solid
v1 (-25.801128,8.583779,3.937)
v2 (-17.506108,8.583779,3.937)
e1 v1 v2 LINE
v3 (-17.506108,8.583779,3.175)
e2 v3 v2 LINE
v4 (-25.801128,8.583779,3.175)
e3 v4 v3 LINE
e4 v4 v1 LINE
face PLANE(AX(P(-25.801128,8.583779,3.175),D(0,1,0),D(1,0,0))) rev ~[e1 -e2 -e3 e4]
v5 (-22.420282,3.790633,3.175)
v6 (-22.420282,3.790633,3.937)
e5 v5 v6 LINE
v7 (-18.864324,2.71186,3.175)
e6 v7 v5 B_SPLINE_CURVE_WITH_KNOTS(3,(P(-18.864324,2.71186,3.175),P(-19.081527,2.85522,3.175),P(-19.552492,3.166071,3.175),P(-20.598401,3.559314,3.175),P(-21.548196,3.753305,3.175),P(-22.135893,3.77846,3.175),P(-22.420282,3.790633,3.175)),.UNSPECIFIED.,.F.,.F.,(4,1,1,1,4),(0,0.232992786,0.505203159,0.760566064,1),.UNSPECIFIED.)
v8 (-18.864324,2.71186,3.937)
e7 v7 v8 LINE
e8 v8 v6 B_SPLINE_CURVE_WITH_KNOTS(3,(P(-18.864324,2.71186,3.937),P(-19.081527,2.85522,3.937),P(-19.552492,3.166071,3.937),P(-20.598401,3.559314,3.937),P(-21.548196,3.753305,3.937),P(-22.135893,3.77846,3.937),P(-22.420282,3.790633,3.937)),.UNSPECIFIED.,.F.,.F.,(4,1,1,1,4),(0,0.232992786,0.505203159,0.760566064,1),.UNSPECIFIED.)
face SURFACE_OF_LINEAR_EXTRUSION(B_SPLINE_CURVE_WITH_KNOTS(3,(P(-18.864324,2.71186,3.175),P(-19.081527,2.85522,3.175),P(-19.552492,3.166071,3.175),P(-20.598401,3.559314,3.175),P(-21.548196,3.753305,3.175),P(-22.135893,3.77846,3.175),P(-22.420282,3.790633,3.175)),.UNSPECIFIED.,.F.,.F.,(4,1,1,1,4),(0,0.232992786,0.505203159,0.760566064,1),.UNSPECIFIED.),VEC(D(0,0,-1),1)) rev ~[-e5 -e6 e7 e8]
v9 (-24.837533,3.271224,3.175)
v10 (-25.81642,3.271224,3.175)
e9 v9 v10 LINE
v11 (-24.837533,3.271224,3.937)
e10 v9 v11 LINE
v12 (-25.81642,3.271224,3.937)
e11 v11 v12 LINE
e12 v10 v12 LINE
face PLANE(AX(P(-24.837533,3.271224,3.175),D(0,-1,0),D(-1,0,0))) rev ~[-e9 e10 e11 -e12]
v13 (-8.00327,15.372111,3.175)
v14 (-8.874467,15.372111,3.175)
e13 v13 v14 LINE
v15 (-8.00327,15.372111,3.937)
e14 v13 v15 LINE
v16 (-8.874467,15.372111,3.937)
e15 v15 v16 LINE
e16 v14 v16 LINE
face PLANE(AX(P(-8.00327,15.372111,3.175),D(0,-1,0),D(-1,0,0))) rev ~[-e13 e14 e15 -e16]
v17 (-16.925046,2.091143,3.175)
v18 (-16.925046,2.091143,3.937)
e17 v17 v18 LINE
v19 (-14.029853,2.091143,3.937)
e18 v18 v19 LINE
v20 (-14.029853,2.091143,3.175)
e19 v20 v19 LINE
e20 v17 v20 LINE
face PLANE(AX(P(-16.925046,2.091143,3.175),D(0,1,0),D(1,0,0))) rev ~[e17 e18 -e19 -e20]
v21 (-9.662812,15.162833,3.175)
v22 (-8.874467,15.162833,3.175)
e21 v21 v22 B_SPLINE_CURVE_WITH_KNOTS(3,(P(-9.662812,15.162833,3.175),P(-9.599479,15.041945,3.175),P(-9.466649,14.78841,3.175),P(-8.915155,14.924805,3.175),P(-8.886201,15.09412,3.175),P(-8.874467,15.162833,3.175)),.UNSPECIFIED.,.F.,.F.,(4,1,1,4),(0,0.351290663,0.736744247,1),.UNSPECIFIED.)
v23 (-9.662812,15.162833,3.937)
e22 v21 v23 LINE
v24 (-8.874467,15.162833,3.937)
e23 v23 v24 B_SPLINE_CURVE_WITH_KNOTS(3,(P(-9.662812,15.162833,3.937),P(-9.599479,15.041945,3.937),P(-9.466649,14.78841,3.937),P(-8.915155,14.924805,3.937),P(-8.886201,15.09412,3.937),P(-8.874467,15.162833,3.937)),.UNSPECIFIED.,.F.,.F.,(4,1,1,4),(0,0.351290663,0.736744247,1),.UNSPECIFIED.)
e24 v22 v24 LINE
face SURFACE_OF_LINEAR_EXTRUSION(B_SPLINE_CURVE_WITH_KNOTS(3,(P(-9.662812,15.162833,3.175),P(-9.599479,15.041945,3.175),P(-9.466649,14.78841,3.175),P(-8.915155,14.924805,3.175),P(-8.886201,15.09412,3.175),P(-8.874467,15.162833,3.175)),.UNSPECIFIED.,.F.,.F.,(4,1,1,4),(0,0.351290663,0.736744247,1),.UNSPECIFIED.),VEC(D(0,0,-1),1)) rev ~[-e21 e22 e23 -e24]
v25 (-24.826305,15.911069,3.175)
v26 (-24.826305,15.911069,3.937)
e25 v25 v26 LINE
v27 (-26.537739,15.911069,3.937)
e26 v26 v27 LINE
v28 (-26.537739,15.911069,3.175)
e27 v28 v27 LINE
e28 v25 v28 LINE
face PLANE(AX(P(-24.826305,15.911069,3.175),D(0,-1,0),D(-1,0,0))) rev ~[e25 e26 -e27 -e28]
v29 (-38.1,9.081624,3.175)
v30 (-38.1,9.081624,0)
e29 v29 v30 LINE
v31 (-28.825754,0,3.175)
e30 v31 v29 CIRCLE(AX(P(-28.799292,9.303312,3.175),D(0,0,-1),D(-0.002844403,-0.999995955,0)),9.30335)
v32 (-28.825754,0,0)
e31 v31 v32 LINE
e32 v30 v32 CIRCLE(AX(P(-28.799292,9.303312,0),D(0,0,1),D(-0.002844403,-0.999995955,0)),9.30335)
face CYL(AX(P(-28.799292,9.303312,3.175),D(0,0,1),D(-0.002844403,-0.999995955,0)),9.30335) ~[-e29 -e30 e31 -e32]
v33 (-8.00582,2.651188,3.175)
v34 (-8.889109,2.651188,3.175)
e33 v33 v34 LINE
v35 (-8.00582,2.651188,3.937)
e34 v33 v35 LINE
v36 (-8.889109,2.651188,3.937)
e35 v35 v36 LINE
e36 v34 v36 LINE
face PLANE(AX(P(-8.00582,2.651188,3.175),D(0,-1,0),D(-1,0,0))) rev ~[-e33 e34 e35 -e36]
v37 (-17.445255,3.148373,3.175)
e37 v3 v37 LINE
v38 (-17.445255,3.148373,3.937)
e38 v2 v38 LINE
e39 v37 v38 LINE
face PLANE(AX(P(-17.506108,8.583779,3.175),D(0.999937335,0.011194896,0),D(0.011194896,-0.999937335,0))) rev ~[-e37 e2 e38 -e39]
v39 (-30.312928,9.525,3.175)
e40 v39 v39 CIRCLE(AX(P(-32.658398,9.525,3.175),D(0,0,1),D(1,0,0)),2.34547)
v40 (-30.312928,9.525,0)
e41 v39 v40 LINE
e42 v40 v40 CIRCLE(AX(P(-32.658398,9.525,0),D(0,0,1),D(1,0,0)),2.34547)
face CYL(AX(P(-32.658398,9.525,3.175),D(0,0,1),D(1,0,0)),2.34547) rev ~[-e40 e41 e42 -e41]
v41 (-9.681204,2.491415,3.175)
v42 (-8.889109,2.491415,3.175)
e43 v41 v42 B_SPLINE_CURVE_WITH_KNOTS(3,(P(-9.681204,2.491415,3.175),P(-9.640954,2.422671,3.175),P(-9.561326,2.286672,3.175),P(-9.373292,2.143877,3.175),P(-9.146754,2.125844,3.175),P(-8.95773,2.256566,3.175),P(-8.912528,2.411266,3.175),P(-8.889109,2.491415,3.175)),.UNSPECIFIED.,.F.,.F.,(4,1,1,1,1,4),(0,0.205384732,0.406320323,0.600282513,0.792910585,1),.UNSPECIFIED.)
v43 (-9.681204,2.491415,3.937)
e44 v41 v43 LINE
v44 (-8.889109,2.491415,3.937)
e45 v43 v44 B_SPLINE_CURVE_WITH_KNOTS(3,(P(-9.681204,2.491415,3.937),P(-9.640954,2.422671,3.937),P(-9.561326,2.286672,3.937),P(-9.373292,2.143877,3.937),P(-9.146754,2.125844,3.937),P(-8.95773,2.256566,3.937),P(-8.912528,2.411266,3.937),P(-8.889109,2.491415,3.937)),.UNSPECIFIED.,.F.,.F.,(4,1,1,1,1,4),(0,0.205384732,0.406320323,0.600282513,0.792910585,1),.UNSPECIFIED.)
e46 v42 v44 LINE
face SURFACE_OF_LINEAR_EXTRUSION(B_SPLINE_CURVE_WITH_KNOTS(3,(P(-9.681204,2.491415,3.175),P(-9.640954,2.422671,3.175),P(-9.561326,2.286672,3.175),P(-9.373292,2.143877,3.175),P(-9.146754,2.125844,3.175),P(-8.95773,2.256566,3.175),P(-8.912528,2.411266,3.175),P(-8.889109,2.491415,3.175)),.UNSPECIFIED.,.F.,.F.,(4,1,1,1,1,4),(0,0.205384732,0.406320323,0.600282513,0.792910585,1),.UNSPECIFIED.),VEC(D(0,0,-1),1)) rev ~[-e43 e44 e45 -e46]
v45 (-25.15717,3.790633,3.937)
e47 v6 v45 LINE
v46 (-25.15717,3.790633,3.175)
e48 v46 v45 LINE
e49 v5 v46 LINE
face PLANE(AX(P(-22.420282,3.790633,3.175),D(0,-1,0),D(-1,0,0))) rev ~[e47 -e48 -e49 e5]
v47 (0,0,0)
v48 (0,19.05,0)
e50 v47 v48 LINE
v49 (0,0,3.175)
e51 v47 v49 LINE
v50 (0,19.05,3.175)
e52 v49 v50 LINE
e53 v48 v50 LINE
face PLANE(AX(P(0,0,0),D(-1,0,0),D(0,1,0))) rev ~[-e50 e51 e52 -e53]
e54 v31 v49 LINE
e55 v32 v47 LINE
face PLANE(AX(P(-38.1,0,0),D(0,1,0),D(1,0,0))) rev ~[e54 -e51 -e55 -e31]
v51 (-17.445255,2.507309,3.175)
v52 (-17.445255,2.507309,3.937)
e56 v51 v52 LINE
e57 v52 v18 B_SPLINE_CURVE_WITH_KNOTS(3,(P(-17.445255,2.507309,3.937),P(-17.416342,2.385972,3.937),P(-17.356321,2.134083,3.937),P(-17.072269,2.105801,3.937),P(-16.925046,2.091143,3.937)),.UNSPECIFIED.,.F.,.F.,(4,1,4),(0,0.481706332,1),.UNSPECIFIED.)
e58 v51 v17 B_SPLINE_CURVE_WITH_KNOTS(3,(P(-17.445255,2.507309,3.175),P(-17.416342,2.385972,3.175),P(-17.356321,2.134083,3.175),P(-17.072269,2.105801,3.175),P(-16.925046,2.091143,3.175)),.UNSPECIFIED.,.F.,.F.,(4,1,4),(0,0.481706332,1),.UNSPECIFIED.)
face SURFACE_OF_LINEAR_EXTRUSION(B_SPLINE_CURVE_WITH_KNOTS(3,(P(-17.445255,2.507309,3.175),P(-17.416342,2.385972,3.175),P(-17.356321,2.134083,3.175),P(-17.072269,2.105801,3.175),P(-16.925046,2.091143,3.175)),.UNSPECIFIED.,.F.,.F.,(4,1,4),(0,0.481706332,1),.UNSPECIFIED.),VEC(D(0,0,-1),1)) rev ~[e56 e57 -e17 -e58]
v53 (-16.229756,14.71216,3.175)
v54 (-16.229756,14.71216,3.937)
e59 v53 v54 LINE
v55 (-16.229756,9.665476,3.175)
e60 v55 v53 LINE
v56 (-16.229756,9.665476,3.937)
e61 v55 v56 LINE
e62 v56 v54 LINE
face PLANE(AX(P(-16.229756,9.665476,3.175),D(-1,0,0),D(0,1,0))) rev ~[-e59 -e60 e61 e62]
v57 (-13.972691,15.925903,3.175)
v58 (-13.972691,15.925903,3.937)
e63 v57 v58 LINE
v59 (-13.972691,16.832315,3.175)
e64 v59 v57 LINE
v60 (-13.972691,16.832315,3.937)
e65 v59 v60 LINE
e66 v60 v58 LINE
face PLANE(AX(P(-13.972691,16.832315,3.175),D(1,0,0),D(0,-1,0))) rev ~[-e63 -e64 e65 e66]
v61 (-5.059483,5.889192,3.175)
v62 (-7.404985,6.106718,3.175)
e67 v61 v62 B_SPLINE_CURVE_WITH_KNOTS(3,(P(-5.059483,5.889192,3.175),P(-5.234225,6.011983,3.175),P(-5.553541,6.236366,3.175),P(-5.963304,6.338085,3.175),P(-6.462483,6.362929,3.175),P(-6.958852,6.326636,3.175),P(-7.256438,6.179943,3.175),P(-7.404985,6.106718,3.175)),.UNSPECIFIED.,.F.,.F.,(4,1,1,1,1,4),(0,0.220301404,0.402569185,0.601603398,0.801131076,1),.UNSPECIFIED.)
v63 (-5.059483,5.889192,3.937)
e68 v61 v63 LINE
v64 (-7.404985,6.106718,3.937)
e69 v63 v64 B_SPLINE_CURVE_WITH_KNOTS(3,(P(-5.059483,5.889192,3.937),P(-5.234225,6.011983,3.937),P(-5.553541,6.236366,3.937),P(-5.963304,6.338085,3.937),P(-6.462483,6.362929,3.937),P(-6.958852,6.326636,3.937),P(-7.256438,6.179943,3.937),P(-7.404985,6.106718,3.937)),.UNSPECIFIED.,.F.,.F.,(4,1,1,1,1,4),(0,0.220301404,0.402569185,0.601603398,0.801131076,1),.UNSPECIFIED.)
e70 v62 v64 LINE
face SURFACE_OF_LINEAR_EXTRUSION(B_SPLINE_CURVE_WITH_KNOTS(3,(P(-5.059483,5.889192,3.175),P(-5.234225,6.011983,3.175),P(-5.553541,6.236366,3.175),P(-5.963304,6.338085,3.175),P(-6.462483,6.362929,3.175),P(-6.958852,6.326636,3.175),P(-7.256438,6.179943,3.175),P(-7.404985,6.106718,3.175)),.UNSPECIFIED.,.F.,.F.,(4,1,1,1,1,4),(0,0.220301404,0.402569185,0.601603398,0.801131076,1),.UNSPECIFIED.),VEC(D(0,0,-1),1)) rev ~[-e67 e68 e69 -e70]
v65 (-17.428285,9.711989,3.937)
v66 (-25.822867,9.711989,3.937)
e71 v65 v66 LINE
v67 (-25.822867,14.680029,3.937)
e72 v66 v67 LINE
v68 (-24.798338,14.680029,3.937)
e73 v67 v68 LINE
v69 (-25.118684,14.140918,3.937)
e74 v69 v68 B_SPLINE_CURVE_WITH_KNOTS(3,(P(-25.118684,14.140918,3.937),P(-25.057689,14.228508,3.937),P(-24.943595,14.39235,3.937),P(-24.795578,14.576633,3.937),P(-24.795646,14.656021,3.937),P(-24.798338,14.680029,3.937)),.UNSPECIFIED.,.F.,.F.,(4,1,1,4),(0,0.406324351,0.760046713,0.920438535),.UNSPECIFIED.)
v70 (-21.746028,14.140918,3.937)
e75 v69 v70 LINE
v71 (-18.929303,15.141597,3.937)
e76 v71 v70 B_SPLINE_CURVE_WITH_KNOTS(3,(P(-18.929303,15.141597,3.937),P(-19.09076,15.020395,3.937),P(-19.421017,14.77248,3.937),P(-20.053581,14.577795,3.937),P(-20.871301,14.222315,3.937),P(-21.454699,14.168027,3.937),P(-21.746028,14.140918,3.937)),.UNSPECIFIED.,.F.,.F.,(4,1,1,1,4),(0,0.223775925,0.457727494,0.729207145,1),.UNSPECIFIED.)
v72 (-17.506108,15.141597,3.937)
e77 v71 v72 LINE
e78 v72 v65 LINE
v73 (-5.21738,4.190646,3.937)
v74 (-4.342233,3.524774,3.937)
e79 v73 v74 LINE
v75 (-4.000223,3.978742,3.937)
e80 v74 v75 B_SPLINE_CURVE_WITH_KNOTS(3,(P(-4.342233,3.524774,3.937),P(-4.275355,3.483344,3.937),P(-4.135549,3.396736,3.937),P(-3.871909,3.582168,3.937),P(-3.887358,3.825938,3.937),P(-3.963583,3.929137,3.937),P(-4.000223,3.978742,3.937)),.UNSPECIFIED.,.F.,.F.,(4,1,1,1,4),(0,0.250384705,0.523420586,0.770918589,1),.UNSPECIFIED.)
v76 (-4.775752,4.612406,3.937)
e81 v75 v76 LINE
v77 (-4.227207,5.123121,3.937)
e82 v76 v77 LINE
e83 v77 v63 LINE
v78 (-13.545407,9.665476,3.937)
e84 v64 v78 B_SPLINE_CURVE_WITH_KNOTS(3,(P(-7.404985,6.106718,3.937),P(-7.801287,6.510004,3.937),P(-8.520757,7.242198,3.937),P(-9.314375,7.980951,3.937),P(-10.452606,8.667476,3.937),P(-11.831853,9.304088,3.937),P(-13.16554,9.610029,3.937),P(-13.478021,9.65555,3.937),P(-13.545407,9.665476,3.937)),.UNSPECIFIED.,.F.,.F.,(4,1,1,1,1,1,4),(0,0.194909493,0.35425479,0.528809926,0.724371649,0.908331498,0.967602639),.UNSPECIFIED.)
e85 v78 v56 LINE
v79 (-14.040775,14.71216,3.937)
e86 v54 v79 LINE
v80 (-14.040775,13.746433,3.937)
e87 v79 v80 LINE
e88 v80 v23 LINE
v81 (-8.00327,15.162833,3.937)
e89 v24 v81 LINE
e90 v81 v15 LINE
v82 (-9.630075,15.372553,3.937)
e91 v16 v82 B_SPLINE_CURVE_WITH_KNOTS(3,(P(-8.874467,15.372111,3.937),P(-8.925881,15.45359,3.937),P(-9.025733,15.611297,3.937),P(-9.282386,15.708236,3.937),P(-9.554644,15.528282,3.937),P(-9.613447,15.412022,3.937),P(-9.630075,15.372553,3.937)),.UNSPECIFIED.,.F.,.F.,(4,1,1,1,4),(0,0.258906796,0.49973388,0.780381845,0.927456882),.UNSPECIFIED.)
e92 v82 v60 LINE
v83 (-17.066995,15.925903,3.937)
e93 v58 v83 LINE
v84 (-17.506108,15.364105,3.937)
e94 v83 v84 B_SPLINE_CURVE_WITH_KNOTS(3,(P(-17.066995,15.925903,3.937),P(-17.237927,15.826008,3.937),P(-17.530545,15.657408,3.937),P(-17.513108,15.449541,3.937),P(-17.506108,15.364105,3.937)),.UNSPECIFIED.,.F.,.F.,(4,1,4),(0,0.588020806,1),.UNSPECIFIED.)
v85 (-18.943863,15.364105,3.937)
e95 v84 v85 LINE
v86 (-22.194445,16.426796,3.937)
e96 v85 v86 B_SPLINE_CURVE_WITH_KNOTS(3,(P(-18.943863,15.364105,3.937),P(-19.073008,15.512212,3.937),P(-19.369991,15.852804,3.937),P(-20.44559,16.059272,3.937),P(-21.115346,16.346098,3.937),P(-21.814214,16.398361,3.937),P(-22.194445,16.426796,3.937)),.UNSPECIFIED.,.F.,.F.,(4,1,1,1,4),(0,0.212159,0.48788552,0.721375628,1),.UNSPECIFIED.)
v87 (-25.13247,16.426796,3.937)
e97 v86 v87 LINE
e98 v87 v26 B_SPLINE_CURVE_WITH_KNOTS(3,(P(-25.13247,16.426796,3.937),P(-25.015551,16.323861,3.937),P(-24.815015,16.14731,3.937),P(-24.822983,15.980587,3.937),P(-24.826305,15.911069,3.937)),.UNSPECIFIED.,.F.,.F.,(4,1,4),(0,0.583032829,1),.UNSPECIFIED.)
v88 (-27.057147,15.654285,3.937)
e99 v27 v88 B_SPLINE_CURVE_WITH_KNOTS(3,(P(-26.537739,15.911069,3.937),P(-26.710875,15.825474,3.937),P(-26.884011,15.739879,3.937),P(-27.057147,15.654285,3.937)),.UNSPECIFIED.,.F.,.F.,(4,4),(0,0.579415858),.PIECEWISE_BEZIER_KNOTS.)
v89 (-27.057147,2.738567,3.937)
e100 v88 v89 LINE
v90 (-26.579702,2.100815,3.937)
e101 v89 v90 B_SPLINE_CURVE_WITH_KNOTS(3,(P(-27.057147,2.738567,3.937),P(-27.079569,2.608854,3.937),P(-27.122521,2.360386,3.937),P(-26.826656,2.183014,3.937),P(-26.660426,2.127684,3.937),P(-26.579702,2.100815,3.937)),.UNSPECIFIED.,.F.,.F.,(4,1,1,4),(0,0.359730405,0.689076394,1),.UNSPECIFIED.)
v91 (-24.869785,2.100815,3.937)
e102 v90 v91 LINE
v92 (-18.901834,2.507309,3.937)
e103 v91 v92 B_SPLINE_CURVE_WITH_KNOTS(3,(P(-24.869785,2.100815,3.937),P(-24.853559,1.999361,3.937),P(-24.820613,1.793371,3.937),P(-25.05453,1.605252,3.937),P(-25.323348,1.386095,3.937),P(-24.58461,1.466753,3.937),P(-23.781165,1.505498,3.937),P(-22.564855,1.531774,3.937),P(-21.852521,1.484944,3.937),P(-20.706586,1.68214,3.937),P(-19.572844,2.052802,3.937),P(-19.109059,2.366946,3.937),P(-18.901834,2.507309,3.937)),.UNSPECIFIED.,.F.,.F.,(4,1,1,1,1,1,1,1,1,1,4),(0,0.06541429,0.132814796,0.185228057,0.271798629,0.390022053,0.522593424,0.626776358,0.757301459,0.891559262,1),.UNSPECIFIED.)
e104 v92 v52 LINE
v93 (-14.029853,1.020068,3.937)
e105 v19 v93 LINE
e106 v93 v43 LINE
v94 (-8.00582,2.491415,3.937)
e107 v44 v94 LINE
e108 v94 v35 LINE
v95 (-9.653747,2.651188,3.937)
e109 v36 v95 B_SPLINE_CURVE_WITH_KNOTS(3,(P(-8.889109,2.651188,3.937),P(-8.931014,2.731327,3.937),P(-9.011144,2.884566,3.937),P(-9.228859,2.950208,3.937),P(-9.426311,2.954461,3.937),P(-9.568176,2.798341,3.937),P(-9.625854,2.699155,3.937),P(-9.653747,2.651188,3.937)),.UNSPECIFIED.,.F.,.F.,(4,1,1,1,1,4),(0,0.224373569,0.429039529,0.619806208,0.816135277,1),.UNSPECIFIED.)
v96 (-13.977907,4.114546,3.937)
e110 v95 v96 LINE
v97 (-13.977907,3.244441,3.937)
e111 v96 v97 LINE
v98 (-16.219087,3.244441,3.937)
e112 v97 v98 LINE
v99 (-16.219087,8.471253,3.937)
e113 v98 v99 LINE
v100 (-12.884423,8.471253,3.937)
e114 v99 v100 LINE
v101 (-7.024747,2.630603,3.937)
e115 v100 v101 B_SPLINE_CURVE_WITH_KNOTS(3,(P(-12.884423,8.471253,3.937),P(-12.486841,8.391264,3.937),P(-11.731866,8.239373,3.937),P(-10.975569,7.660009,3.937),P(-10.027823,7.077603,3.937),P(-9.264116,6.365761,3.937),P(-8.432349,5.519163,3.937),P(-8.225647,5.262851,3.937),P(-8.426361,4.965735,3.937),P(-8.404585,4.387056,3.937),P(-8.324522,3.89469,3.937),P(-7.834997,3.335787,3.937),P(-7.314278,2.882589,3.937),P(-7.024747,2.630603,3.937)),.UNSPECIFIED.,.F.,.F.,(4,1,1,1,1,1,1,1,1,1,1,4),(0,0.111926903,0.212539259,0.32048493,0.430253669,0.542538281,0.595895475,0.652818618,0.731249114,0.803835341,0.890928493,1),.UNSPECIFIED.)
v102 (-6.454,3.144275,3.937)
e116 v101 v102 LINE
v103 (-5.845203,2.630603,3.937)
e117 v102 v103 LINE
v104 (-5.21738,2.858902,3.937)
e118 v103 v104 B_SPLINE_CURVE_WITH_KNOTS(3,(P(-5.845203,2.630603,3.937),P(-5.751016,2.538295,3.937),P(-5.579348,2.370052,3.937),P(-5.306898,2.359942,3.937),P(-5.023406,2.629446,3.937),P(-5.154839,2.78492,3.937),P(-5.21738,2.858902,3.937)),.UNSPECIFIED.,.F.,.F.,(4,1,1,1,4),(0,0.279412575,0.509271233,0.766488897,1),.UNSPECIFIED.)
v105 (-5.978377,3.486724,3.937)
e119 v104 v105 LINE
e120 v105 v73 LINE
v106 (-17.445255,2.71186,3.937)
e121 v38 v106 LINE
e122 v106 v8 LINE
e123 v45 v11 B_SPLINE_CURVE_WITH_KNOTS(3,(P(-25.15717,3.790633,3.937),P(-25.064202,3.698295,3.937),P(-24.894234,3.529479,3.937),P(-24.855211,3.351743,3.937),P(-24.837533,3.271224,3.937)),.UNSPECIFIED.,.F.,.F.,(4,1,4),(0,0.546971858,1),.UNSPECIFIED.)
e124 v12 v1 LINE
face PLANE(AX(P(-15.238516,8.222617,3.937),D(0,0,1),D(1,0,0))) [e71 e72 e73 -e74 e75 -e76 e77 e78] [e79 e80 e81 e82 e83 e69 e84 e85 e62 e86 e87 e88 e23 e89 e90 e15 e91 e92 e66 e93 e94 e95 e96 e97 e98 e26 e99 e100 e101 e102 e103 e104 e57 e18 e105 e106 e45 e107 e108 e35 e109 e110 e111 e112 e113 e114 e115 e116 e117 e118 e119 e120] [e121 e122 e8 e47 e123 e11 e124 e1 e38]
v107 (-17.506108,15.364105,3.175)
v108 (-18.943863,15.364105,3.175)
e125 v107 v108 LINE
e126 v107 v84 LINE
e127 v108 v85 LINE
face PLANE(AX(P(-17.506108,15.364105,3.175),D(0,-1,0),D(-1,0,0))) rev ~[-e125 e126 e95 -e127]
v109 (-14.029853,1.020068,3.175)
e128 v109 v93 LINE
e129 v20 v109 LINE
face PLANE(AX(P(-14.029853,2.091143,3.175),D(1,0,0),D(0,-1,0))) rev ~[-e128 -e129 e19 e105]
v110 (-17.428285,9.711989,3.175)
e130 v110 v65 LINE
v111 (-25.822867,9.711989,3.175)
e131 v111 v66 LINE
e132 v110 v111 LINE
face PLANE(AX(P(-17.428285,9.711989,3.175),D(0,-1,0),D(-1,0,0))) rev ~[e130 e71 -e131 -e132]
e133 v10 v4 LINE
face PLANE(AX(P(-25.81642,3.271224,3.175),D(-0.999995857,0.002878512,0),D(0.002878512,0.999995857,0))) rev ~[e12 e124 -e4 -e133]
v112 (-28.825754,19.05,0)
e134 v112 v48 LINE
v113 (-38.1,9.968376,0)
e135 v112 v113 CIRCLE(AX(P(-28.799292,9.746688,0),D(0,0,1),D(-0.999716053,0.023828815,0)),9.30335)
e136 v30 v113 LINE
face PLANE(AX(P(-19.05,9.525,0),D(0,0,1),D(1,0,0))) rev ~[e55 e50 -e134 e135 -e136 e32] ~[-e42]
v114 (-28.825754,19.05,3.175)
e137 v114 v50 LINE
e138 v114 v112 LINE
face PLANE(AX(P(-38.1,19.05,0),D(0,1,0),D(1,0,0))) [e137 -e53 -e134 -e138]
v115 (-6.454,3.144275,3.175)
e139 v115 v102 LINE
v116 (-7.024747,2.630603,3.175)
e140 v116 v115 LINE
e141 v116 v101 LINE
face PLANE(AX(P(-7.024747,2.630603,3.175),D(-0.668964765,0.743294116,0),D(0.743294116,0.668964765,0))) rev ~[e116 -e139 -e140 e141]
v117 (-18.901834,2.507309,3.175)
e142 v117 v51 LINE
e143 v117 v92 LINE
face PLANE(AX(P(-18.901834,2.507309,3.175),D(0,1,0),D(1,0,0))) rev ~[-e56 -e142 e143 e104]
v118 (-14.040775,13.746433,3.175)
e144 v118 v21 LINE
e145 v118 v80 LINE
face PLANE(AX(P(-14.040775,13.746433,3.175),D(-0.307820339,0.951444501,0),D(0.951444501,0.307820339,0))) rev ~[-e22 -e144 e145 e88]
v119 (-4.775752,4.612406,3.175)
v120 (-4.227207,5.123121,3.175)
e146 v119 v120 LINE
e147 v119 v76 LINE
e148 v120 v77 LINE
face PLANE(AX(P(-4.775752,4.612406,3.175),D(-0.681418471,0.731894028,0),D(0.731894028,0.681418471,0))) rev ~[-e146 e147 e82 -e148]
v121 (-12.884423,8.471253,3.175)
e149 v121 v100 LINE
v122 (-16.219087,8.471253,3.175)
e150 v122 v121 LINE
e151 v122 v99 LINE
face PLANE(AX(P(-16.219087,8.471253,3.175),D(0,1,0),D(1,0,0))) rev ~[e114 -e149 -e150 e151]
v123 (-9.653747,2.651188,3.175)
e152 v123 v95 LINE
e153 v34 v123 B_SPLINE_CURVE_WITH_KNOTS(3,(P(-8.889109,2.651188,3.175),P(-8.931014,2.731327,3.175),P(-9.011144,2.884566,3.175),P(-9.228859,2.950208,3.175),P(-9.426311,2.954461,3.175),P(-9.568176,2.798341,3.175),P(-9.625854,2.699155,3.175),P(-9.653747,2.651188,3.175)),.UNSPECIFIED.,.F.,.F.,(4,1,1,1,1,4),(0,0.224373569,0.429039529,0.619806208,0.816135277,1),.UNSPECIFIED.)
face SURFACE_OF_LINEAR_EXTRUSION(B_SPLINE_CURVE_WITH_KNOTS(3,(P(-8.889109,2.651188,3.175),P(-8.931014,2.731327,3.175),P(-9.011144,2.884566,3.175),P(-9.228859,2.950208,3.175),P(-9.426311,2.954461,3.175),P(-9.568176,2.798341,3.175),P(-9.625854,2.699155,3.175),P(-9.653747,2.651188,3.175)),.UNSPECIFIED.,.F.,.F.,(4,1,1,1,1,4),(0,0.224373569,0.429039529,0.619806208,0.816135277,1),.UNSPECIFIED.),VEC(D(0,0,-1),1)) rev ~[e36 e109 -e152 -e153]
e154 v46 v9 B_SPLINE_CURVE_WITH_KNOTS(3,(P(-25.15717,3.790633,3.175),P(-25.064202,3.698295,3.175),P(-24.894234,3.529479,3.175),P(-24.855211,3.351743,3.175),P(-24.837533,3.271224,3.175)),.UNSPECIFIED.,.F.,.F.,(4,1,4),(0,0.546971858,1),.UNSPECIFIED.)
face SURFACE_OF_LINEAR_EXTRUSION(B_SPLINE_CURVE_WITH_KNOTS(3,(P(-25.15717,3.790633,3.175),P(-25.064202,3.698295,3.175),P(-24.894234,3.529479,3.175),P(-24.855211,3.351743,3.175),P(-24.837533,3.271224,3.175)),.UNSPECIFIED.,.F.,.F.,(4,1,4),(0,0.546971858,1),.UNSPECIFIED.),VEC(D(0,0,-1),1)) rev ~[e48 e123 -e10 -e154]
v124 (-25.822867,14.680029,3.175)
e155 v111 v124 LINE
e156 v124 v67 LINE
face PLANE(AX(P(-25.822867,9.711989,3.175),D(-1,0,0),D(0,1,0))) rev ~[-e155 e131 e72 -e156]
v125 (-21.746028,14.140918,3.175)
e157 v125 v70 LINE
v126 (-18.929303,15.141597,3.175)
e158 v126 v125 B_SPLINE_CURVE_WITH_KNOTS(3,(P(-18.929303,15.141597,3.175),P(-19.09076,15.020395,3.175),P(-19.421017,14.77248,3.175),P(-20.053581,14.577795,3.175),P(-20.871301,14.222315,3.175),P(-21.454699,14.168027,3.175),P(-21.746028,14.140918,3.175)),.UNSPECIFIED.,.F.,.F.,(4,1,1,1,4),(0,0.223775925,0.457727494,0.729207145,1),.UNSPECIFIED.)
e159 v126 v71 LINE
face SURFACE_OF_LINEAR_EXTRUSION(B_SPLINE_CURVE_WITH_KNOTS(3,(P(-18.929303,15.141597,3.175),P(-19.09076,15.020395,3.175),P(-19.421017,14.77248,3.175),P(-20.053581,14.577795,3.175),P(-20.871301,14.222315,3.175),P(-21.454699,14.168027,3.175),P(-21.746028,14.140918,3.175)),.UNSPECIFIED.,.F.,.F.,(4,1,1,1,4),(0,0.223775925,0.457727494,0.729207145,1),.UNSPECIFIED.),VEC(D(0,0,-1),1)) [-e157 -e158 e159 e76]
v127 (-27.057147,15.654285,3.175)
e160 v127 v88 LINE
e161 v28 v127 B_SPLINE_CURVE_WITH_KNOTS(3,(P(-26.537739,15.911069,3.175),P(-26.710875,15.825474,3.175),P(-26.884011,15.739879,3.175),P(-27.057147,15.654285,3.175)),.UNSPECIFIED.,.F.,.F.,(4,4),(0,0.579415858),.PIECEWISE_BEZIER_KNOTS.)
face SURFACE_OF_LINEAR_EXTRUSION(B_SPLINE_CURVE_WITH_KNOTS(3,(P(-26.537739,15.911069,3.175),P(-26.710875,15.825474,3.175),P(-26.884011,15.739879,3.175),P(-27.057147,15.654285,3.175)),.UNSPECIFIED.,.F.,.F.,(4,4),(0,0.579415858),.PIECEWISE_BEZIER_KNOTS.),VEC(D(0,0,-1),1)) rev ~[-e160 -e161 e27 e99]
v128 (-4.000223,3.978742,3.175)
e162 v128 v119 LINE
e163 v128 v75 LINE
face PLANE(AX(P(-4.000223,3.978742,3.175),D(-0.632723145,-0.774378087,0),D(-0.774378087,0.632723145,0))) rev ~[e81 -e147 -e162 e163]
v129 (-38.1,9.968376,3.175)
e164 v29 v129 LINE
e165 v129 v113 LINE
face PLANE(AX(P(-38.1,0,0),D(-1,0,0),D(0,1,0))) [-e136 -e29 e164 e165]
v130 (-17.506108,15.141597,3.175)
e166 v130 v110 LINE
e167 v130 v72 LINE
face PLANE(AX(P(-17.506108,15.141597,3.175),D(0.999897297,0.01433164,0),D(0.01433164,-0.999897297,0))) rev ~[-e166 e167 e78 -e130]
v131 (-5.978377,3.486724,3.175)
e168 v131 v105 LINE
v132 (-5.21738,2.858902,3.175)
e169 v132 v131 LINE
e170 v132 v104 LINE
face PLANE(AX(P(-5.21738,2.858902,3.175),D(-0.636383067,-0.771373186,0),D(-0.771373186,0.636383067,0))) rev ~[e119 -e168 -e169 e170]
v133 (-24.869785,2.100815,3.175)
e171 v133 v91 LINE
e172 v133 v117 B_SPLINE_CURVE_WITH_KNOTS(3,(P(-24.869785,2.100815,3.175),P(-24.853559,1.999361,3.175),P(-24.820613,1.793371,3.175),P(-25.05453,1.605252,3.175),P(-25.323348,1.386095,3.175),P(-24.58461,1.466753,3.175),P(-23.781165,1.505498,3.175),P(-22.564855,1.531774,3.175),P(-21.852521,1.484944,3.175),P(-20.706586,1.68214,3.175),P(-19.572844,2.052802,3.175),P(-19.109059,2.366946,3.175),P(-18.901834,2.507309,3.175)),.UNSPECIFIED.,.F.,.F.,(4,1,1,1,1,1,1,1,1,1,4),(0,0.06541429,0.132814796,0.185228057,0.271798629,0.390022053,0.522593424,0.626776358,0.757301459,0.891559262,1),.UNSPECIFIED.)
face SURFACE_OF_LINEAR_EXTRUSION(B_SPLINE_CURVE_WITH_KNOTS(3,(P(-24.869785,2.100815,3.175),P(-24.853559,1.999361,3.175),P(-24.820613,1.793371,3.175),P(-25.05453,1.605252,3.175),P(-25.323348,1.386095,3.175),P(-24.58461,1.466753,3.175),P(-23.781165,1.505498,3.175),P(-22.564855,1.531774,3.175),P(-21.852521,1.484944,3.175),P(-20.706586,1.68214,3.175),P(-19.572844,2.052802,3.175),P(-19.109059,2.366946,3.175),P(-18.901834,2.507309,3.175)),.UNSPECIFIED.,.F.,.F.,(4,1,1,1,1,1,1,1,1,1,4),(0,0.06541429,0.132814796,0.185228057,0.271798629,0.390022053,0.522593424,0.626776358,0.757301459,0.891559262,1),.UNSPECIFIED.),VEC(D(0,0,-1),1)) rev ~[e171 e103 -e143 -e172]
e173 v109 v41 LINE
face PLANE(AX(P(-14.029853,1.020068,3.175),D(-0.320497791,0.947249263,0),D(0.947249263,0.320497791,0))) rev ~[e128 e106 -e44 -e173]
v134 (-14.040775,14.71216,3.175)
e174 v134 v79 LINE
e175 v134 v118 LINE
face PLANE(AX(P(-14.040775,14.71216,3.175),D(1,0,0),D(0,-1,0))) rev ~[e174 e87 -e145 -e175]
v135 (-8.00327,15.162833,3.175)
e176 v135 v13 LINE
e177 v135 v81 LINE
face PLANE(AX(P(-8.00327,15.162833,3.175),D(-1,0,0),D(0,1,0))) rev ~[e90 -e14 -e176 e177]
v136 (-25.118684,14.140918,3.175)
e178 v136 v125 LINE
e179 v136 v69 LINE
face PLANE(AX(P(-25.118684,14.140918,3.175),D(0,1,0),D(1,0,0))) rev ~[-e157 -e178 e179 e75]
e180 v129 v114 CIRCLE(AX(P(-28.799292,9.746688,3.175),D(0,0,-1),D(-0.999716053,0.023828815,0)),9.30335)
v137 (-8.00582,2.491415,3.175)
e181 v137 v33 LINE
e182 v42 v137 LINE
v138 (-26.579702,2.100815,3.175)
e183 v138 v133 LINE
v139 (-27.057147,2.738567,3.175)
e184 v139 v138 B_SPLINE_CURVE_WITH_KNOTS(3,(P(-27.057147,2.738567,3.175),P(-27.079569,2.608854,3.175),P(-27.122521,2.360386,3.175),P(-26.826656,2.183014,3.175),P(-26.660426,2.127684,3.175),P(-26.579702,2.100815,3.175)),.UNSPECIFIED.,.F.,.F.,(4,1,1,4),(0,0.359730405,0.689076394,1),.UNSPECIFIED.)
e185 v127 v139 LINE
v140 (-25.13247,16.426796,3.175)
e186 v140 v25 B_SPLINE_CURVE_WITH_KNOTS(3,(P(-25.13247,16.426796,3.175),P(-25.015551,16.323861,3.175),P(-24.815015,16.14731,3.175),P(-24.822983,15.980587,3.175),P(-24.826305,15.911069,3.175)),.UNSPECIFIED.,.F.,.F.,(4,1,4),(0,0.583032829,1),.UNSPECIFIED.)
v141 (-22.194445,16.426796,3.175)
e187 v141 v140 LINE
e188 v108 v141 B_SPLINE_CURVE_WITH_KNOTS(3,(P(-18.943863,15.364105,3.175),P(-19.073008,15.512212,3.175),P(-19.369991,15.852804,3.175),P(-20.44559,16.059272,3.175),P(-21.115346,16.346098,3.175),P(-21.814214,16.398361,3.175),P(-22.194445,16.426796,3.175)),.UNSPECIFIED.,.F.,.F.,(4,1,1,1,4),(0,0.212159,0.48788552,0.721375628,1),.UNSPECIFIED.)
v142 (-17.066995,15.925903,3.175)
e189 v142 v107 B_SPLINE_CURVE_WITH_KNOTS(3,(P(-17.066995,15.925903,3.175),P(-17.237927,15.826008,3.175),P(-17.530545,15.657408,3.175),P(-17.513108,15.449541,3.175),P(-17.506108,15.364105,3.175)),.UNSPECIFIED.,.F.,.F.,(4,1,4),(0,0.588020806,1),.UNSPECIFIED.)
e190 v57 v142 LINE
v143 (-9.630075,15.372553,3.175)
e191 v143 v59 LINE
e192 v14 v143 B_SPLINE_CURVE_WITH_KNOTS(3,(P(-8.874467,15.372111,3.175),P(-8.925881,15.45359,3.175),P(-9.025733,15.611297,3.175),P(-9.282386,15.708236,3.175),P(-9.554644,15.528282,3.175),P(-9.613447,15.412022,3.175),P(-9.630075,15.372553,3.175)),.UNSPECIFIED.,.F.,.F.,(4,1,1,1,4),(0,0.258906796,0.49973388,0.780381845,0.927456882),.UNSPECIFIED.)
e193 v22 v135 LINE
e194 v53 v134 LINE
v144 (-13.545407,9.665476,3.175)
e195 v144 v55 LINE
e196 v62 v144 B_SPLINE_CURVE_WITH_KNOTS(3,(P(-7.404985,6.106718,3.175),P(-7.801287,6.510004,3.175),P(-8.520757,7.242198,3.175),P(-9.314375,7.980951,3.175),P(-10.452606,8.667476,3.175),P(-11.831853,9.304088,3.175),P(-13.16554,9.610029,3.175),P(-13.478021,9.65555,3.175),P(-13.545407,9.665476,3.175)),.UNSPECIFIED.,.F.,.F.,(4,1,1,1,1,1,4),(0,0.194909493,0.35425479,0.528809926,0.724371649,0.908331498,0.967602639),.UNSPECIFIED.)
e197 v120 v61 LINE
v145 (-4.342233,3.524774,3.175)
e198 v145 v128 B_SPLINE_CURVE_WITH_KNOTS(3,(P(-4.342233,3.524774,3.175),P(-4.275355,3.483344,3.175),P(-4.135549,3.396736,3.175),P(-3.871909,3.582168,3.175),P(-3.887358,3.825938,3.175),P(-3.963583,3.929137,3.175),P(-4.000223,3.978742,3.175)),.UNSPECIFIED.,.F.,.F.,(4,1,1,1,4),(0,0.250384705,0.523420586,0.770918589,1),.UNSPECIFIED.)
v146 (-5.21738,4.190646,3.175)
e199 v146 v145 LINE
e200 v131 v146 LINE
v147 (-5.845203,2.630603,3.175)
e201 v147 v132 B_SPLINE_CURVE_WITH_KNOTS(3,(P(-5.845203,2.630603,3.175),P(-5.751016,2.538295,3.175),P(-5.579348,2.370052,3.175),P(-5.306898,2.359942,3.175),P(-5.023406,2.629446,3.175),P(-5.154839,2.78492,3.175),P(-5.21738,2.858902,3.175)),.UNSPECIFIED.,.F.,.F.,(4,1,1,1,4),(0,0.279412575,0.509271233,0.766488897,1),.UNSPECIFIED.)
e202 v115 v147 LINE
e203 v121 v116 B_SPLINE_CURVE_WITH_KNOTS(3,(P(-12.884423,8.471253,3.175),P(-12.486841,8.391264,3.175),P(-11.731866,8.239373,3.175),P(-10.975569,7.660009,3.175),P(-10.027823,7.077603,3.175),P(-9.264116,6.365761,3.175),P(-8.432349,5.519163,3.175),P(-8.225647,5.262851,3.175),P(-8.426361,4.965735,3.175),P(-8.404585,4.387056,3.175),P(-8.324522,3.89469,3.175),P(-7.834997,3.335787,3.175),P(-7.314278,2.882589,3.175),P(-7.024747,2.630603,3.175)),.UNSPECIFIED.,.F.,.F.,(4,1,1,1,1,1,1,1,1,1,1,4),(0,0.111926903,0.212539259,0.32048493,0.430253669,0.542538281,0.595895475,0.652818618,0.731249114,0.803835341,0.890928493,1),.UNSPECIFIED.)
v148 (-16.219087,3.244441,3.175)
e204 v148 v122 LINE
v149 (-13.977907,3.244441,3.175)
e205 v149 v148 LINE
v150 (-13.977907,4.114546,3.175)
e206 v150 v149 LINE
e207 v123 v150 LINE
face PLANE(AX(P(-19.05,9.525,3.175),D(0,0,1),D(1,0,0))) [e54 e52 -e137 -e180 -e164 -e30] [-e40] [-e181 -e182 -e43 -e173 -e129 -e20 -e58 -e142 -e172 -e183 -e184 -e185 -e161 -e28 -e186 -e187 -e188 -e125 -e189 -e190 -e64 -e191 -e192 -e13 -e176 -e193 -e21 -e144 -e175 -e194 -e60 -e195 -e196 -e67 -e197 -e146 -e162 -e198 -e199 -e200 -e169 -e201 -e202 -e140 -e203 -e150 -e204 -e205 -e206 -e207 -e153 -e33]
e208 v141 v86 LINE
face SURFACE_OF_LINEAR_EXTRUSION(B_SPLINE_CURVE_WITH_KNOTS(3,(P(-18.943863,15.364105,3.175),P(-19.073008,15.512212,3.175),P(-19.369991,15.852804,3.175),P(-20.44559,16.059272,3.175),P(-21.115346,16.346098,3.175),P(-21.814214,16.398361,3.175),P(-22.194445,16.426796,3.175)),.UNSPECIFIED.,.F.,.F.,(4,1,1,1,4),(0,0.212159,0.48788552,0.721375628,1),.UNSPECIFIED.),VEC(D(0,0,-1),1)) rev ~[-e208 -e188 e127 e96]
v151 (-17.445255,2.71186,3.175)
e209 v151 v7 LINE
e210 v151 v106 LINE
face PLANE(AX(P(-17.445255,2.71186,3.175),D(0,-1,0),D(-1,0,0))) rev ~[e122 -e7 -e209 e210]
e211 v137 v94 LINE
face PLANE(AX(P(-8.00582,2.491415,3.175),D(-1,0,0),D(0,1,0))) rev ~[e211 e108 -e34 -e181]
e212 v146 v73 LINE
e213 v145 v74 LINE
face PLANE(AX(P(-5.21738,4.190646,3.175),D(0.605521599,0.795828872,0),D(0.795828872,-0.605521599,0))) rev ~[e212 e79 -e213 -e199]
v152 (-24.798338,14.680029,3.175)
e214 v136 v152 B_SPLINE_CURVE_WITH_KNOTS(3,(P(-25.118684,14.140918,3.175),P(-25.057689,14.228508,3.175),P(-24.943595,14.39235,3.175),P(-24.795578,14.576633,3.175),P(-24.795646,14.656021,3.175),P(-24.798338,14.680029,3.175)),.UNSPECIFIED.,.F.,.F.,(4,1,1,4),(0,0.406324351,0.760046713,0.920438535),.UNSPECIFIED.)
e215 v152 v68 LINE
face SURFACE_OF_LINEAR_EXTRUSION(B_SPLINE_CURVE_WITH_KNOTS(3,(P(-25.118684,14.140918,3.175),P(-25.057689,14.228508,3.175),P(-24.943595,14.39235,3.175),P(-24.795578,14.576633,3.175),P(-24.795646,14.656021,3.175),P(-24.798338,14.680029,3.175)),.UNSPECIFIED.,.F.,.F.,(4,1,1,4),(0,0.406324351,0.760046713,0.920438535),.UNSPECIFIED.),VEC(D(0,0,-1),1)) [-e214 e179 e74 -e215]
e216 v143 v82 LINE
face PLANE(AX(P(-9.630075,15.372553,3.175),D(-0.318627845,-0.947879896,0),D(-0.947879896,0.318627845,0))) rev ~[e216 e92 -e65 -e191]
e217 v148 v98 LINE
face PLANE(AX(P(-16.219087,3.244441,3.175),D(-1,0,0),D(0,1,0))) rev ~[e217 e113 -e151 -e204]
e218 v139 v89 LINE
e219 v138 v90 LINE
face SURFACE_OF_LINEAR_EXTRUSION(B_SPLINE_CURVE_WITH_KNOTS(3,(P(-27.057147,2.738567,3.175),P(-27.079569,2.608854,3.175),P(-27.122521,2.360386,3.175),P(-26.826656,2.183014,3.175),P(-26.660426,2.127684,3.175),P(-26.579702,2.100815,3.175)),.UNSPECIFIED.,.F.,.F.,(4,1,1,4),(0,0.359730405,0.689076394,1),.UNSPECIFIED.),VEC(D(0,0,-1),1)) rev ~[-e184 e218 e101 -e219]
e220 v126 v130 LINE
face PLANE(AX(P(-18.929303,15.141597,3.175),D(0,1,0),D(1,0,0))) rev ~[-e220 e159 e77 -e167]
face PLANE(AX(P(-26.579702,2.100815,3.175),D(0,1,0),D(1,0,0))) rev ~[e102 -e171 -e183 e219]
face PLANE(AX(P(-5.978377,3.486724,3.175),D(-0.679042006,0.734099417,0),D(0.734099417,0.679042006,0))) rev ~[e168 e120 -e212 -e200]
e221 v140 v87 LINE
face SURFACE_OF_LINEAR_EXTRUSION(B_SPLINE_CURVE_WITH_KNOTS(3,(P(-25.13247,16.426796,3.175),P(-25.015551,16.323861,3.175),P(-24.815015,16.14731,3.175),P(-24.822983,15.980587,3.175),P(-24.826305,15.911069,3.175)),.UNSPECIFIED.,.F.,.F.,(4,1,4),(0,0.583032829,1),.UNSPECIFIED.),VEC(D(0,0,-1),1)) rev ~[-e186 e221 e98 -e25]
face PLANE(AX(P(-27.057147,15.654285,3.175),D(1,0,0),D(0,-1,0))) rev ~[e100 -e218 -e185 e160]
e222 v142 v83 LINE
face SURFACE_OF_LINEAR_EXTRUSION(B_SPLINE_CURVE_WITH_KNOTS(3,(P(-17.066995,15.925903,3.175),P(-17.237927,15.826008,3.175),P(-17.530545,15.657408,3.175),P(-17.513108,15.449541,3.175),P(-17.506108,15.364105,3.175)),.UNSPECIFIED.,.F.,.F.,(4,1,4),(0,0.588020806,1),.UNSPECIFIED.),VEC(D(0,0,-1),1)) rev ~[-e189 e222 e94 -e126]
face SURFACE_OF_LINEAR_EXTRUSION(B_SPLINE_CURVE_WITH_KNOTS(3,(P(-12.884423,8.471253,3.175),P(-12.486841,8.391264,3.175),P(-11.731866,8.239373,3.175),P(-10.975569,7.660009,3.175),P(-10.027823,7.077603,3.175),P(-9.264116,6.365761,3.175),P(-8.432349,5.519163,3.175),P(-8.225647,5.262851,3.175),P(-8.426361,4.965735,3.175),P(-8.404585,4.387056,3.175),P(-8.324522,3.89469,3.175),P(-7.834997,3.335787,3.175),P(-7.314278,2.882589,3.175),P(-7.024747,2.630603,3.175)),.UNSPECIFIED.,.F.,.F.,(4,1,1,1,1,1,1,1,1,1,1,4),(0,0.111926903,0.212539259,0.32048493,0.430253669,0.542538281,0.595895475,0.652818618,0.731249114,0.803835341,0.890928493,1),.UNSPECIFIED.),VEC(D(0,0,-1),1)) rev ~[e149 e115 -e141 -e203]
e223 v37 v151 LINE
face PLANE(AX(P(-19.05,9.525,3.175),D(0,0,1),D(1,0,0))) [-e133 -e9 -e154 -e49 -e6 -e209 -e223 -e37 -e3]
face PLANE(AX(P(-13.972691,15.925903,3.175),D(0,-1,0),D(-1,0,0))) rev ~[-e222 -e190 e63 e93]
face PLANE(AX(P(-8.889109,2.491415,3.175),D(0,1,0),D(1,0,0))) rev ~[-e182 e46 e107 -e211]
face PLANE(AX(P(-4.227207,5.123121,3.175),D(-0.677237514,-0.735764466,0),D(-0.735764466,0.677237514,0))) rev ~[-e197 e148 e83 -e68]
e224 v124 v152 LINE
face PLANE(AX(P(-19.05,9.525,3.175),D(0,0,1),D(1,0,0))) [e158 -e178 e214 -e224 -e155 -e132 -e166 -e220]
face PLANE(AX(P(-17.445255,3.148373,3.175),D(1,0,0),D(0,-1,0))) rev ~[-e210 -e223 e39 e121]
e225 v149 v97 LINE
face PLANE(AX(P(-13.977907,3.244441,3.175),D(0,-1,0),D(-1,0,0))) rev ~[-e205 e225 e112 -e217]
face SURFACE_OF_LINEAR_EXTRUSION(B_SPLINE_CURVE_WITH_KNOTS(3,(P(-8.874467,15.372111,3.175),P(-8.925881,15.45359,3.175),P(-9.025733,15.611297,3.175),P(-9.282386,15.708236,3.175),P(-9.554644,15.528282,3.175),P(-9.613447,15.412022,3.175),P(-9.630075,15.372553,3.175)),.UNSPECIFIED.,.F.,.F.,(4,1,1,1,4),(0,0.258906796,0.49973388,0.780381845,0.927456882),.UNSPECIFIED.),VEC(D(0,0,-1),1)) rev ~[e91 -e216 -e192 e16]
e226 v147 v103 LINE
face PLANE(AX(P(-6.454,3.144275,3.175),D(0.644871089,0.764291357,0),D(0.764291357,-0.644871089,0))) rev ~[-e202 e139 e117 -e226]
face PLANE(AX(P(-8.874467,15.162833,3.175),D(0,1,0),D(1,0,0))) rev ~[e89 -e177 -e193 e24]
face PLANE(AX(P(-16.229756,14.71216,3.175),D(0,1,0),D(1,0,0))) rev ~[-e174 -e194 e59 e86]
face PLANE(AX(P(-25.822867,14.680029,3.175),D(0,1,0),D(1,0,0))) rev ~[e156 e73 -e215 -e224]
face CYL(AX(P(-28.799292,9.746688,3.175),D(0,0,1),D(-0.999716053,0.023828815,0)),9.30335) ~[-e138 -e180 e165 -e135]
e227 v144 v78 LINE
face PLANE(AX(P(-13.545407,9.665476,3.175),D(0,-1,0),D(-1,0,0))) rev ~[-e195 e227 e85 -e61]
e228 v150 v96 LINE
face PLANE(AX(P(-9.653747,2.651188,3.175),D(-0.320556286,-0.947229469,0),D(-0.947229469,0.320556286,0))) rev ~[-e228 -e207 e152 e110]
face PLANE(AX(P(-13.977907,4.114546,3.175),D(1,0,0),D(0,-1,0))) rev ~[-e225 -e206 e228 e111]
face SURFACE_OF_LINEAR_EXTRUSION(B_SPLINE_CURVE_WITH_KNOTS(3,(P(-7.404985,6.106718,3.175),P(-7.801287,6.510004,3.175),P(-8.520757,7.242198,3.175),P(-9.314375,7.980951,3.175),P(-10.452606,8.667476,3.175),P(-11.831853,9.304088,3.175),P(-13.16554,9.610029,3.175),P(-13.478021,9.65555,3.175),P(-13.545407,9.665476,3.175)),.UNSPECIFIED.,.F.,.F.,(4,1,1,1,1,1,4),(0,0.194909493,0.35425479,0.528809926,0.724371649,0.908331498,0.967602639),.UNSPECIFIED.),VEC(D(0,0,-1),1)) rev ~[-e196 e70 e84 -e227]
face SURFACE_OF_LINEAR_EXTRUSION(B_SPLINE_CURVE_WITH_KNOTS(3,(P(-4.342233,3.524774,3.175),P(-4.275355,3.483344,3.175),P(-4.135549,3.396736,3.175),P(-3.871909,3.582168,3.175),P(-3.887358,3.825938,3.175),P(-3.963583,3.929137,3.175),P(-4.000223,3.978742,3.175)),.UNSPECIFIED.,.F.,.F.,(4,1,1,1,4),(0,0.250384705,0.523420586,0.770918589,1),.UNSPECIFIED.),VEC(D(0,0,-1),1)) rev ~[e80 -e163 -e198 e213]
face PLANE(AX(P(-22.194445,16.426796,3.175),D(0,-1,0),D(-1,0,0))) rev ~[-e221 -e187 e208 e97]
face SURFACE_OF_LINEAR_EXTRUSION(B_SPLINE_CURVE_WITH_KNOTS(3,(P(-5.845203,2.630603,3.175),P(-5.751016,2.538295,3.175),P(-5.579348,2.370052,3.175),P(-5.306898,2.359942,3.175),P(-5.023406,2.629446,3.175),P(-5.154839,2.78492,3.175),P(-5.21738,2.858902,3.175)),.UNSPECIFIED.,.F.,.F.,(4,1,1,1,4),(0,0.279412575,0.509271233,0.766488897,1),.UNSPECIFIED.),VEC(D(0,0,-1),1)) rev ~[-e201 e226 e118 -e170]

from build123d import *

# Parameters (mm, degrees)
F0_W     = 38.1
F0_H     = 19.05
F1_DEPTH = 3.175
F2_R     = 2.3454703993
F3_DEPTH = 3.176
F5_DEPTH = 0.762


with BuildPart() as f1:
    # F0 (on Top) → F1 (new body)
    with BuildSketch(Plane.XY):
        with Locations((-19.05, 9.525)):
            Rectangle(F0_W, F0_H)
    extrude(amount=F1_DEPTH)

    # F2 (on face) → F3 (cut, through all)
    with BuildSketch(Plane.XY.offset(3.175)):
        with Locations((-32.6583981514, 9.525)):
            Circle(F2_R)
        with BuildLine():
            ThreePointArc((-38.1, 9.9683756083), (-35.308362686, 16.3938160997), (-28.8257542998, 19.05))
            Line((-28.8257542998, 19.05), (-38.1, 19.05))
            Line((-38.1, 19.05), (-38.1, 9.9683756083))
        make_face()
        with BuildLine():
            ThreePointArc((-28.8257542998, 0), (-35.308362686, 2.6561839003), (-38.1, 9.0816243917))
            Line((-38.1, 9.0816243917), (-38.1, 0))
            Line((-38.1, 0), (-28.8257542998, 0))
        make_face()
    extrude(amount=-F3_DEPTH, mode=Mode.SUBTRACT)

    # F4 (on face) → F5 (join)
    with BuildSketch(Plane.XY.offset(3.175)):
        with BuildLine():
            add(Edge.make_bspline(
                [(-26.5377387404, 15.9110687673), (-26.7108747115, 15.8254740139), (-26.8840106825, 15.7398792605), (-27.0571466535, 15.654284507)],
                knots=[0, 0, 0, 0, 0.579415858, 0.579415858, 0.579415858, 0.579415858], degree=3))
            Line((-27.0571466535, 15.654284507), (-27.0571466535, 2.7385666035))
            add(Edge.make_bspline(
                [(-27.0571466535, 2.7385666035), (-27.0795693358, 2.6088543631), (-27.1225207817, 2.3603859501), (-26.8266557283, 2.183014384), (-26.6604257883, 2.1276841688), (-26.579702273, 2.1008150652)],
                knots=[0, 0, 0, 0, 0.359730405, 0.6890763936, 1, 1, 1, 1], degree=3))
            Line((-26.579702273, 2.1008150652), (-24.8697847128, 2.1008150652))
            add(Edge.make_bspline(
                [(-24.8697847128, 2.1008150652), (-24.8535585114, 1.9993606342), (-24.820613422, 1.7933712454), (-25.0545304604, 1.6052521128), (-25.323348361, 1.3860952125), (-24.5846096398, 1.4667534331), (-23.7811649583, 1.5054977354), (-22.5648546478, 1.5317740605), (-21.8525212711, 1.4849440744), (-20.7065855211, 1.6821403738), (-19.5728440966, 2.0528020227), (-19.1090591627, 2.3669456633), (-18.9018342644, 2.5073089637)],
                knots=[0, 0, 0, 0, 0.0654142898, 0.1328147962, 0.1852280569, 0.2717986293, 0.3900220534, 0.5225934237, 0.6267763583, 0.7573014589, 0.891559262, 1, 1, 1, 1], degree=3))
            Line((-18.9018342644, 2.5073089637), (-17.4452550709, 2.5073089637))
            add(Edge.make_bspline(
                [(-17.4452550709, 2.5073089637), (-17.416342407, 2.3859721487), (-17.3563210578, 2.1340825495), (-17.0722687387, 2.1058012821), (-16.9250462204, 2.0911432803)],
                knots=[0, 0, 0, 0, 0.4817063324, 1, 1, 1, 1], degree=3))
            Line((-16.9250462204, 2.0911432803), (-14.0298530459, 2.0911432803))
            Line((-14.0298530459, 2.0911432803), (-14.0298530459, 1.0200680699))
            Line((-14.0298530459, 1.0200680699), (-9.6812043339, 2.4914150126))
            add(Edge.make_bspline(
                [(-9.6812043339, 2.4914150126), (-9.6409541279, 2.4226709942), (-9.5613256349, 2.2866721227), (-9.3732923035, 2.143877022), (-9.146753539, 2.1258439034), (-8.9577295904, 2.2565656827), (-8.9125275808, 2.4112662698), (-8.8891088963, 2.4914150126)],
                knots=[0, 0, 0, 0, 0.2053847319, 0.4063203233, 0.6002825129, 0.7929105851, 1, 1, 1, 1], degree=3))
            Line((-8.8891088963, 2.4914150126), (-8.0058202147, 2.4914150126))
            Line((-8.0058202147, 2.4914150126), (-8.0058202147, 2.6511875913))
            Line((-8.0058202147, 2.6511875913), (-8.8891088963, 2.6511875913))
            add(Edge.make_bspline(
                [(-8.8891088963, 2.6511875913), (-8.9310142556, 2.7313268058), (-9.0111442626, 2.8845662941), (-9.2288589733, 2.9502078721), (-9.4263111029, 2.954461386), (-9.5681762791, 2.7983408667), (-9.6258537843, 2.6991547711), (-9.6537470818, 2.6511875913)],
                knots=[0, 0, 0, 0, 0.2243735688, 0.4290395288, 0.619806208, 0.816135277, 1, 1, 1, 1], degree=3))
            Line((-9.6537470818, 2.6511875913), (-13.9779066667, 4.1145463474))
            Line((-13.9779066667, 4.1145463474), (-13.9779066667, 3.2444412354))
            Line((-13.9779066667, 3.2444412354), (-16.2190869451, 3.2444412354))
            Line((-16.2190869451, 3.2444412354), (-16.2190869451, 8.471253328))
            Line((-16.2190869451, 8.471253328), (-12.8844231367, 8.471253328))
            add(Edge.make_bspline(
                [(-12.8844231367, 8.471253328), (-12.4868405129, 8.3912644099), (-11.73186638, 8.2393725502), (-10.9755685718, 7.6600087014), (-10.0278228964, 7.0776029449), (-9.2641156682, 6.3657609783), (-8.4323489729, 5.5191632424), (-8.2256469446, 5.2628506515), (-8.4263613819, 4.9657352945), (-8.4045845677, 4.387056325), (-8.3245215623, 3.8946895211), (-7.8349969225, 3.3357865397), (-7.3142777062, 2.8825893477), (-7.0247473195, 2.6306025684)],
                knots=[0, 0, 0, 0, 0.1119269029, 0.2125392595, 0.3204849305, 0.4302536688, 0.542538281, 0.5958954746, 0.6528186178, 0.7312491143, 0.8038353409, 0.8909284931, 1, 1, 1, 1], degree=3))
            Line((-7.0247473195, 2.6306025684), (-6.4539997838, 3.1442753971))
            Line((-6.4539997838, 3.1442753971), (-5.8452025987, 2.6306025684))
            add(Edge.make_bspline(
                [(-5.8452025987, 2.6306025684), (-5.7510163843, 2.5382953385), (-5.5793479133, 2.3700515982), (-5.3068982698, 2.3599422662), (-5.0234062685, 2.629445519), (-5.1548387797, 2.7849198566), (-5.217380356, 2.8589016292)],
                knots=[0, 0, 0, 0, 0.2794125753, 0.5092712331, 0.7664888973, 1, 1, 1, 1], degree=3))
            Line((-5.217380356, 2.8589016292), (-5.9783770703, 3.4867241047))
            Line((-5.9783770703, 3.4867241047), (-5.217380356, 4.190646112))
            Line((-5.217380356, 4.190646112), (-4.3422332965, 3.5247737542))
            add(Edge.make_bspline(
                [(-4.3422332965, 3.5247737542), (-4.2753552319, 3.4833438946), (-4.1355489457, 3.396736203), (-3.8719087651, 3.5821675688), (-3.8873582518, 3.8259382225), (-3.9635831277, 3.9291369105), (-4.0002227761, 3.9787422866)],
                knots=[0, 0, 0, 0, 0.2503847052, 0.5234205857, 0.7709185888, 1, 1, 1, 1], degree=3))
            Line((-4.0002227761, 3.9787422866), (-4.7757523134, 4.6124062501))
            Line((-4.7757523134, 4.6124062501), (-4.2272070423, 5.1231207326))
            Line((-4.2272070423, 5.1231207326), (-5.0594825298, 5.8891922235))
            add(Edge.make_bspline(
                [(-5.0594825298, 5.8891922235), (-5.2342245953, 6.0119831219), (-5.5535406301, 6.2363658579), (-5.9633037959, 6.3380845337), (-6.4624834448, 6.3629289512), (-6.9588518276, 6.326635918), (-7.2564382113, 6.1799434156), (-7.404985372, 6.1067184433)],
                knots=[0, 0, 0, 0, 0.2203014043, 0.4025691847, 0.6016033984, 0.8011310759, 1, 1, 1, 1], degree=3))
            add(Edge.make_bspline(
                [(-7.404985372, 6.1067184433), (-7.8012870357, 6.5100044394), (-8.5207565636, 7.2421975688), (-9.3143752369, 7.9809513855), (-10.4526059497, 8.667475744), (-11.8318533209, 9.304087771), (-13.1655398172, 9.6100287611), (-13.4780210852, 9.655550231), (-13.5454072432, 9.665475678)],
                knots=[0, 0, 0, 0, 0.1949094928, 0.3542547898, 0.528809926, 0.7243716486, 0.9083314981, 0.9676026394, 0.9676026394, 0.9676026394, 0.9676026394], degree=3))
            Line((-13.5454072432, 9.665475678), (-13.5536914822, 9.665475678))
            Line((-13.5536914822, 9.665475678), (-16.2297561765, 9.665475678))
            Line((-16.2297561765, 9.665475678), (-16.2297561765, 14.7121604532))
            Line((-16.2297561765, 14.7121604532), (-14.0407746658, 14.7121604532))
            Line((-14.0407746658, 14.7121604532), (-14.0407746658, 13.74643296))
            Line((-14.0407746658, 13.74643296), (-9.6628116444, 15.162833035))
            add(Edge.make_bspline(
                [(-9.6628116444, 15.162833035), (-9.5994792917, 15.0419453644), (-9.4666485777, 14.7884096682), (-8.9151551249, 14.924804863), (-8.8862007543, 15.0941198994), (-8.8744670414, 15.162833035)],
                knots=[0, 0, 0, 0, 0.3512906634, 0.7367442472, 1, 1, 1, 1], degree=3))
            Line((-8.8744670414, 15.162833035), (-8.0032702535, 15.162833035))
            Line((-8.0032702535, 15.162833035), (-8.0032702535, 15.3721110607))
            Line((-8.0032702535, 15.3721110607), (-8.8744670414, 15.3721110607))
            add(Edge.make_bspline(
                [(-8.8744670414, 15.3721110607), (-8.9258811293, 15.4535897314), (-9.0257330431, 15.6112970859), (-9.2823856435, 15.7082360182), (-9.5546444314, 15.5282819888), (-9.6134472425, 15.4120218853), (-9.6300745245, 15.3725532584)],
                knots=[0, 0, 0, 0, 0.2589067963, 0.4997338796, 0.7803818448, 0.9274568815, 0.9274568815, 0.9274568815, 0.9274568815], degree=3))
            Line((-9.6300745245, 15.3725532584), (-13.9726913457, 16.8323148205))
            Line((-13.9726913457, 16.8323148205), (-13.9726913457, 15.9259032621))
            Line((-13.9726913457, 15.9259032621), (-17.0669947674, 15.9259032621))
            add(Edge.make_bspline(
                [(-17.0669947674, 15.9259032621), (-17.2379265625, 15.8260077216), (-17.5305453526, 15.6574083814), (-17.5131075408, 15.4495405967), (-17.506107688, 15.3641048819)],
                knots=[0, 0, 0, 0, 0.5880208056, 1, 1, 1, 1], degree=3))
            Line((-17.506107688, 15.3641048819), (-18.9438629895, 15.3641048819))
            add(Edge.make_bspline(
                [(-18.9438629895, 15.3641048819), (-19.0730076064, 15.5122124042), (-19.3699914184, 15.8528037322), (-20.4455895706, 16.0592715534), (-21.1153456714, 16.3460981975), (-21.8142141514, 16.3983614206), (-22.1944451332, 16.4267960936)],
                knots=[0, 0, 0, 0, 0.212159, 0.4878855201, 0.7213756277, 1, 1, 1, 1], degree=3))
            Line((-22.1944451332, 16.4267960936), (-25.1324698329, 16.4267960936))
            add(Edge.make_bspline(
                [(-25.1324698329, 16.4267960936), (-25.0155507598, 16.3238609839), (-24.815014757, 16.1473098455), (-24.822982641, 15.9805868028), (-24.8263049871, 15.9110687673)],
                knots=[0, 0, 0, 0, 0.583032829, 1, 1, 1, 1], degree=3))
            Line((-24.8263049871, 15.9110687673), (-26.5377387404, 15.9110687673))
        make_face()
        with BuildLine():
            Line((-25.8164200932, 3.2712235115), (-25.8011277765, 8.5837785155))
            Line((-25.8011277765, 8.5837785155), (-17.506107688, 8.5837785155))
            Line((-17.506107688, 8.5837785155), (-17.4452550709, 3.1483727507))
            Line((-17.4452550709, 3.1483727507), (-17.4452550709, 2.7118595317))
            Line((-17.4452550709, 2.7118595317), (-18.8643243164, 2.7118595317))
            add(Edge.make_bspline(
                [(-18.8643243164, 2.7118595317), (-19.0815269134, 2.85521998), (-19.5524918726, 3.166071455), (-20.5984014649, 3.5593135264), (-21.5481955341, 3.753304769), (-22.1358927762, 3.7784602355), (-22.4202815443, 3.7906330545)],
                knots=[0, 0, 0, 0, 0.2329927864, 0.5052031588, 0.7605660635, 1, 1, 1, 1], degree=3))
            Line((-22.4202815443, 3.7906330545), (-25.1571703702, 3.7906330545))
            add(Edge.make_bspline(
                [(-25.1571703702, 3.7906330545), (-25.0642022591, 3.6982952356), (-24.8942335308, 3.5294788374), (-24.855211218, 3.3517428953), (-24.837533012, 3.2712235115)],
                knots=[0, 0, 0, 0, 0.5469718577, 1, 1, 1, 1], degree=3))
            Line((-24.837533012, 3.2712235115), (-25.8164200932, 3.2712235115))
        make_face(mode=Mode.SUBTRACT)
        with BuildLine():
            Line((-18.9293026924, 15.1415970176), (-17.506107688, 15.1415970176))
            Line((-17.506107688, 15.1415970176), (-17.428284511, 9.7119892016))
            Line((-17.428284511, 9.7119892016), (-25.822866708, 9.7119892016))
            Line((-25.822866708, 9.7119892016), (-25.822866708, 14.6800291177))
            Line((-25.822866708, 14.6800291177), (-24.7983376545, 14.6800291177))
            add(Edge.make_bspline(
                [(-25.1186843961, 14.1409179196), (-25.0576893253, 14.2285084067), (-24.9435954911, 14.3923500806), (-24.7955780658, 14.5766326071), (-24.7956461395, 14.6560214032), (-24.7983376545, 14.6800291177)],
                knots=[0, 0, 0, 0, 0.4063243511, 0.7600467132, 0.9204385352, 0.9204385352, 0.9204385352, 0.9204385352], degree=3))
            Line((-25.1186843961, 14.1409179196), (-21.7460282147, 14.1409179196))
            add(Edge.make_bspline(
                [(-18.9293026924, 15.1415970176), (-19.0907602148, 15.0203952413), (-19.4210171313, 14.772480345), (-20.0535811337, 14.5777947582), (-20.8713014134, 14.222314871), (-21.4546989083, 14.168027318), (-21.7460282147, 14.1409179196)],
                knots=[0, 0, 0, 0, 0.2237759252, 0.4577274938, 0.7292071452, 1, 1, 1, 1], degree=3))
        make_face(mode=Mode.SUBTRACT)
    extrude(amount=F5_DEPTH)


solid = f1.part
